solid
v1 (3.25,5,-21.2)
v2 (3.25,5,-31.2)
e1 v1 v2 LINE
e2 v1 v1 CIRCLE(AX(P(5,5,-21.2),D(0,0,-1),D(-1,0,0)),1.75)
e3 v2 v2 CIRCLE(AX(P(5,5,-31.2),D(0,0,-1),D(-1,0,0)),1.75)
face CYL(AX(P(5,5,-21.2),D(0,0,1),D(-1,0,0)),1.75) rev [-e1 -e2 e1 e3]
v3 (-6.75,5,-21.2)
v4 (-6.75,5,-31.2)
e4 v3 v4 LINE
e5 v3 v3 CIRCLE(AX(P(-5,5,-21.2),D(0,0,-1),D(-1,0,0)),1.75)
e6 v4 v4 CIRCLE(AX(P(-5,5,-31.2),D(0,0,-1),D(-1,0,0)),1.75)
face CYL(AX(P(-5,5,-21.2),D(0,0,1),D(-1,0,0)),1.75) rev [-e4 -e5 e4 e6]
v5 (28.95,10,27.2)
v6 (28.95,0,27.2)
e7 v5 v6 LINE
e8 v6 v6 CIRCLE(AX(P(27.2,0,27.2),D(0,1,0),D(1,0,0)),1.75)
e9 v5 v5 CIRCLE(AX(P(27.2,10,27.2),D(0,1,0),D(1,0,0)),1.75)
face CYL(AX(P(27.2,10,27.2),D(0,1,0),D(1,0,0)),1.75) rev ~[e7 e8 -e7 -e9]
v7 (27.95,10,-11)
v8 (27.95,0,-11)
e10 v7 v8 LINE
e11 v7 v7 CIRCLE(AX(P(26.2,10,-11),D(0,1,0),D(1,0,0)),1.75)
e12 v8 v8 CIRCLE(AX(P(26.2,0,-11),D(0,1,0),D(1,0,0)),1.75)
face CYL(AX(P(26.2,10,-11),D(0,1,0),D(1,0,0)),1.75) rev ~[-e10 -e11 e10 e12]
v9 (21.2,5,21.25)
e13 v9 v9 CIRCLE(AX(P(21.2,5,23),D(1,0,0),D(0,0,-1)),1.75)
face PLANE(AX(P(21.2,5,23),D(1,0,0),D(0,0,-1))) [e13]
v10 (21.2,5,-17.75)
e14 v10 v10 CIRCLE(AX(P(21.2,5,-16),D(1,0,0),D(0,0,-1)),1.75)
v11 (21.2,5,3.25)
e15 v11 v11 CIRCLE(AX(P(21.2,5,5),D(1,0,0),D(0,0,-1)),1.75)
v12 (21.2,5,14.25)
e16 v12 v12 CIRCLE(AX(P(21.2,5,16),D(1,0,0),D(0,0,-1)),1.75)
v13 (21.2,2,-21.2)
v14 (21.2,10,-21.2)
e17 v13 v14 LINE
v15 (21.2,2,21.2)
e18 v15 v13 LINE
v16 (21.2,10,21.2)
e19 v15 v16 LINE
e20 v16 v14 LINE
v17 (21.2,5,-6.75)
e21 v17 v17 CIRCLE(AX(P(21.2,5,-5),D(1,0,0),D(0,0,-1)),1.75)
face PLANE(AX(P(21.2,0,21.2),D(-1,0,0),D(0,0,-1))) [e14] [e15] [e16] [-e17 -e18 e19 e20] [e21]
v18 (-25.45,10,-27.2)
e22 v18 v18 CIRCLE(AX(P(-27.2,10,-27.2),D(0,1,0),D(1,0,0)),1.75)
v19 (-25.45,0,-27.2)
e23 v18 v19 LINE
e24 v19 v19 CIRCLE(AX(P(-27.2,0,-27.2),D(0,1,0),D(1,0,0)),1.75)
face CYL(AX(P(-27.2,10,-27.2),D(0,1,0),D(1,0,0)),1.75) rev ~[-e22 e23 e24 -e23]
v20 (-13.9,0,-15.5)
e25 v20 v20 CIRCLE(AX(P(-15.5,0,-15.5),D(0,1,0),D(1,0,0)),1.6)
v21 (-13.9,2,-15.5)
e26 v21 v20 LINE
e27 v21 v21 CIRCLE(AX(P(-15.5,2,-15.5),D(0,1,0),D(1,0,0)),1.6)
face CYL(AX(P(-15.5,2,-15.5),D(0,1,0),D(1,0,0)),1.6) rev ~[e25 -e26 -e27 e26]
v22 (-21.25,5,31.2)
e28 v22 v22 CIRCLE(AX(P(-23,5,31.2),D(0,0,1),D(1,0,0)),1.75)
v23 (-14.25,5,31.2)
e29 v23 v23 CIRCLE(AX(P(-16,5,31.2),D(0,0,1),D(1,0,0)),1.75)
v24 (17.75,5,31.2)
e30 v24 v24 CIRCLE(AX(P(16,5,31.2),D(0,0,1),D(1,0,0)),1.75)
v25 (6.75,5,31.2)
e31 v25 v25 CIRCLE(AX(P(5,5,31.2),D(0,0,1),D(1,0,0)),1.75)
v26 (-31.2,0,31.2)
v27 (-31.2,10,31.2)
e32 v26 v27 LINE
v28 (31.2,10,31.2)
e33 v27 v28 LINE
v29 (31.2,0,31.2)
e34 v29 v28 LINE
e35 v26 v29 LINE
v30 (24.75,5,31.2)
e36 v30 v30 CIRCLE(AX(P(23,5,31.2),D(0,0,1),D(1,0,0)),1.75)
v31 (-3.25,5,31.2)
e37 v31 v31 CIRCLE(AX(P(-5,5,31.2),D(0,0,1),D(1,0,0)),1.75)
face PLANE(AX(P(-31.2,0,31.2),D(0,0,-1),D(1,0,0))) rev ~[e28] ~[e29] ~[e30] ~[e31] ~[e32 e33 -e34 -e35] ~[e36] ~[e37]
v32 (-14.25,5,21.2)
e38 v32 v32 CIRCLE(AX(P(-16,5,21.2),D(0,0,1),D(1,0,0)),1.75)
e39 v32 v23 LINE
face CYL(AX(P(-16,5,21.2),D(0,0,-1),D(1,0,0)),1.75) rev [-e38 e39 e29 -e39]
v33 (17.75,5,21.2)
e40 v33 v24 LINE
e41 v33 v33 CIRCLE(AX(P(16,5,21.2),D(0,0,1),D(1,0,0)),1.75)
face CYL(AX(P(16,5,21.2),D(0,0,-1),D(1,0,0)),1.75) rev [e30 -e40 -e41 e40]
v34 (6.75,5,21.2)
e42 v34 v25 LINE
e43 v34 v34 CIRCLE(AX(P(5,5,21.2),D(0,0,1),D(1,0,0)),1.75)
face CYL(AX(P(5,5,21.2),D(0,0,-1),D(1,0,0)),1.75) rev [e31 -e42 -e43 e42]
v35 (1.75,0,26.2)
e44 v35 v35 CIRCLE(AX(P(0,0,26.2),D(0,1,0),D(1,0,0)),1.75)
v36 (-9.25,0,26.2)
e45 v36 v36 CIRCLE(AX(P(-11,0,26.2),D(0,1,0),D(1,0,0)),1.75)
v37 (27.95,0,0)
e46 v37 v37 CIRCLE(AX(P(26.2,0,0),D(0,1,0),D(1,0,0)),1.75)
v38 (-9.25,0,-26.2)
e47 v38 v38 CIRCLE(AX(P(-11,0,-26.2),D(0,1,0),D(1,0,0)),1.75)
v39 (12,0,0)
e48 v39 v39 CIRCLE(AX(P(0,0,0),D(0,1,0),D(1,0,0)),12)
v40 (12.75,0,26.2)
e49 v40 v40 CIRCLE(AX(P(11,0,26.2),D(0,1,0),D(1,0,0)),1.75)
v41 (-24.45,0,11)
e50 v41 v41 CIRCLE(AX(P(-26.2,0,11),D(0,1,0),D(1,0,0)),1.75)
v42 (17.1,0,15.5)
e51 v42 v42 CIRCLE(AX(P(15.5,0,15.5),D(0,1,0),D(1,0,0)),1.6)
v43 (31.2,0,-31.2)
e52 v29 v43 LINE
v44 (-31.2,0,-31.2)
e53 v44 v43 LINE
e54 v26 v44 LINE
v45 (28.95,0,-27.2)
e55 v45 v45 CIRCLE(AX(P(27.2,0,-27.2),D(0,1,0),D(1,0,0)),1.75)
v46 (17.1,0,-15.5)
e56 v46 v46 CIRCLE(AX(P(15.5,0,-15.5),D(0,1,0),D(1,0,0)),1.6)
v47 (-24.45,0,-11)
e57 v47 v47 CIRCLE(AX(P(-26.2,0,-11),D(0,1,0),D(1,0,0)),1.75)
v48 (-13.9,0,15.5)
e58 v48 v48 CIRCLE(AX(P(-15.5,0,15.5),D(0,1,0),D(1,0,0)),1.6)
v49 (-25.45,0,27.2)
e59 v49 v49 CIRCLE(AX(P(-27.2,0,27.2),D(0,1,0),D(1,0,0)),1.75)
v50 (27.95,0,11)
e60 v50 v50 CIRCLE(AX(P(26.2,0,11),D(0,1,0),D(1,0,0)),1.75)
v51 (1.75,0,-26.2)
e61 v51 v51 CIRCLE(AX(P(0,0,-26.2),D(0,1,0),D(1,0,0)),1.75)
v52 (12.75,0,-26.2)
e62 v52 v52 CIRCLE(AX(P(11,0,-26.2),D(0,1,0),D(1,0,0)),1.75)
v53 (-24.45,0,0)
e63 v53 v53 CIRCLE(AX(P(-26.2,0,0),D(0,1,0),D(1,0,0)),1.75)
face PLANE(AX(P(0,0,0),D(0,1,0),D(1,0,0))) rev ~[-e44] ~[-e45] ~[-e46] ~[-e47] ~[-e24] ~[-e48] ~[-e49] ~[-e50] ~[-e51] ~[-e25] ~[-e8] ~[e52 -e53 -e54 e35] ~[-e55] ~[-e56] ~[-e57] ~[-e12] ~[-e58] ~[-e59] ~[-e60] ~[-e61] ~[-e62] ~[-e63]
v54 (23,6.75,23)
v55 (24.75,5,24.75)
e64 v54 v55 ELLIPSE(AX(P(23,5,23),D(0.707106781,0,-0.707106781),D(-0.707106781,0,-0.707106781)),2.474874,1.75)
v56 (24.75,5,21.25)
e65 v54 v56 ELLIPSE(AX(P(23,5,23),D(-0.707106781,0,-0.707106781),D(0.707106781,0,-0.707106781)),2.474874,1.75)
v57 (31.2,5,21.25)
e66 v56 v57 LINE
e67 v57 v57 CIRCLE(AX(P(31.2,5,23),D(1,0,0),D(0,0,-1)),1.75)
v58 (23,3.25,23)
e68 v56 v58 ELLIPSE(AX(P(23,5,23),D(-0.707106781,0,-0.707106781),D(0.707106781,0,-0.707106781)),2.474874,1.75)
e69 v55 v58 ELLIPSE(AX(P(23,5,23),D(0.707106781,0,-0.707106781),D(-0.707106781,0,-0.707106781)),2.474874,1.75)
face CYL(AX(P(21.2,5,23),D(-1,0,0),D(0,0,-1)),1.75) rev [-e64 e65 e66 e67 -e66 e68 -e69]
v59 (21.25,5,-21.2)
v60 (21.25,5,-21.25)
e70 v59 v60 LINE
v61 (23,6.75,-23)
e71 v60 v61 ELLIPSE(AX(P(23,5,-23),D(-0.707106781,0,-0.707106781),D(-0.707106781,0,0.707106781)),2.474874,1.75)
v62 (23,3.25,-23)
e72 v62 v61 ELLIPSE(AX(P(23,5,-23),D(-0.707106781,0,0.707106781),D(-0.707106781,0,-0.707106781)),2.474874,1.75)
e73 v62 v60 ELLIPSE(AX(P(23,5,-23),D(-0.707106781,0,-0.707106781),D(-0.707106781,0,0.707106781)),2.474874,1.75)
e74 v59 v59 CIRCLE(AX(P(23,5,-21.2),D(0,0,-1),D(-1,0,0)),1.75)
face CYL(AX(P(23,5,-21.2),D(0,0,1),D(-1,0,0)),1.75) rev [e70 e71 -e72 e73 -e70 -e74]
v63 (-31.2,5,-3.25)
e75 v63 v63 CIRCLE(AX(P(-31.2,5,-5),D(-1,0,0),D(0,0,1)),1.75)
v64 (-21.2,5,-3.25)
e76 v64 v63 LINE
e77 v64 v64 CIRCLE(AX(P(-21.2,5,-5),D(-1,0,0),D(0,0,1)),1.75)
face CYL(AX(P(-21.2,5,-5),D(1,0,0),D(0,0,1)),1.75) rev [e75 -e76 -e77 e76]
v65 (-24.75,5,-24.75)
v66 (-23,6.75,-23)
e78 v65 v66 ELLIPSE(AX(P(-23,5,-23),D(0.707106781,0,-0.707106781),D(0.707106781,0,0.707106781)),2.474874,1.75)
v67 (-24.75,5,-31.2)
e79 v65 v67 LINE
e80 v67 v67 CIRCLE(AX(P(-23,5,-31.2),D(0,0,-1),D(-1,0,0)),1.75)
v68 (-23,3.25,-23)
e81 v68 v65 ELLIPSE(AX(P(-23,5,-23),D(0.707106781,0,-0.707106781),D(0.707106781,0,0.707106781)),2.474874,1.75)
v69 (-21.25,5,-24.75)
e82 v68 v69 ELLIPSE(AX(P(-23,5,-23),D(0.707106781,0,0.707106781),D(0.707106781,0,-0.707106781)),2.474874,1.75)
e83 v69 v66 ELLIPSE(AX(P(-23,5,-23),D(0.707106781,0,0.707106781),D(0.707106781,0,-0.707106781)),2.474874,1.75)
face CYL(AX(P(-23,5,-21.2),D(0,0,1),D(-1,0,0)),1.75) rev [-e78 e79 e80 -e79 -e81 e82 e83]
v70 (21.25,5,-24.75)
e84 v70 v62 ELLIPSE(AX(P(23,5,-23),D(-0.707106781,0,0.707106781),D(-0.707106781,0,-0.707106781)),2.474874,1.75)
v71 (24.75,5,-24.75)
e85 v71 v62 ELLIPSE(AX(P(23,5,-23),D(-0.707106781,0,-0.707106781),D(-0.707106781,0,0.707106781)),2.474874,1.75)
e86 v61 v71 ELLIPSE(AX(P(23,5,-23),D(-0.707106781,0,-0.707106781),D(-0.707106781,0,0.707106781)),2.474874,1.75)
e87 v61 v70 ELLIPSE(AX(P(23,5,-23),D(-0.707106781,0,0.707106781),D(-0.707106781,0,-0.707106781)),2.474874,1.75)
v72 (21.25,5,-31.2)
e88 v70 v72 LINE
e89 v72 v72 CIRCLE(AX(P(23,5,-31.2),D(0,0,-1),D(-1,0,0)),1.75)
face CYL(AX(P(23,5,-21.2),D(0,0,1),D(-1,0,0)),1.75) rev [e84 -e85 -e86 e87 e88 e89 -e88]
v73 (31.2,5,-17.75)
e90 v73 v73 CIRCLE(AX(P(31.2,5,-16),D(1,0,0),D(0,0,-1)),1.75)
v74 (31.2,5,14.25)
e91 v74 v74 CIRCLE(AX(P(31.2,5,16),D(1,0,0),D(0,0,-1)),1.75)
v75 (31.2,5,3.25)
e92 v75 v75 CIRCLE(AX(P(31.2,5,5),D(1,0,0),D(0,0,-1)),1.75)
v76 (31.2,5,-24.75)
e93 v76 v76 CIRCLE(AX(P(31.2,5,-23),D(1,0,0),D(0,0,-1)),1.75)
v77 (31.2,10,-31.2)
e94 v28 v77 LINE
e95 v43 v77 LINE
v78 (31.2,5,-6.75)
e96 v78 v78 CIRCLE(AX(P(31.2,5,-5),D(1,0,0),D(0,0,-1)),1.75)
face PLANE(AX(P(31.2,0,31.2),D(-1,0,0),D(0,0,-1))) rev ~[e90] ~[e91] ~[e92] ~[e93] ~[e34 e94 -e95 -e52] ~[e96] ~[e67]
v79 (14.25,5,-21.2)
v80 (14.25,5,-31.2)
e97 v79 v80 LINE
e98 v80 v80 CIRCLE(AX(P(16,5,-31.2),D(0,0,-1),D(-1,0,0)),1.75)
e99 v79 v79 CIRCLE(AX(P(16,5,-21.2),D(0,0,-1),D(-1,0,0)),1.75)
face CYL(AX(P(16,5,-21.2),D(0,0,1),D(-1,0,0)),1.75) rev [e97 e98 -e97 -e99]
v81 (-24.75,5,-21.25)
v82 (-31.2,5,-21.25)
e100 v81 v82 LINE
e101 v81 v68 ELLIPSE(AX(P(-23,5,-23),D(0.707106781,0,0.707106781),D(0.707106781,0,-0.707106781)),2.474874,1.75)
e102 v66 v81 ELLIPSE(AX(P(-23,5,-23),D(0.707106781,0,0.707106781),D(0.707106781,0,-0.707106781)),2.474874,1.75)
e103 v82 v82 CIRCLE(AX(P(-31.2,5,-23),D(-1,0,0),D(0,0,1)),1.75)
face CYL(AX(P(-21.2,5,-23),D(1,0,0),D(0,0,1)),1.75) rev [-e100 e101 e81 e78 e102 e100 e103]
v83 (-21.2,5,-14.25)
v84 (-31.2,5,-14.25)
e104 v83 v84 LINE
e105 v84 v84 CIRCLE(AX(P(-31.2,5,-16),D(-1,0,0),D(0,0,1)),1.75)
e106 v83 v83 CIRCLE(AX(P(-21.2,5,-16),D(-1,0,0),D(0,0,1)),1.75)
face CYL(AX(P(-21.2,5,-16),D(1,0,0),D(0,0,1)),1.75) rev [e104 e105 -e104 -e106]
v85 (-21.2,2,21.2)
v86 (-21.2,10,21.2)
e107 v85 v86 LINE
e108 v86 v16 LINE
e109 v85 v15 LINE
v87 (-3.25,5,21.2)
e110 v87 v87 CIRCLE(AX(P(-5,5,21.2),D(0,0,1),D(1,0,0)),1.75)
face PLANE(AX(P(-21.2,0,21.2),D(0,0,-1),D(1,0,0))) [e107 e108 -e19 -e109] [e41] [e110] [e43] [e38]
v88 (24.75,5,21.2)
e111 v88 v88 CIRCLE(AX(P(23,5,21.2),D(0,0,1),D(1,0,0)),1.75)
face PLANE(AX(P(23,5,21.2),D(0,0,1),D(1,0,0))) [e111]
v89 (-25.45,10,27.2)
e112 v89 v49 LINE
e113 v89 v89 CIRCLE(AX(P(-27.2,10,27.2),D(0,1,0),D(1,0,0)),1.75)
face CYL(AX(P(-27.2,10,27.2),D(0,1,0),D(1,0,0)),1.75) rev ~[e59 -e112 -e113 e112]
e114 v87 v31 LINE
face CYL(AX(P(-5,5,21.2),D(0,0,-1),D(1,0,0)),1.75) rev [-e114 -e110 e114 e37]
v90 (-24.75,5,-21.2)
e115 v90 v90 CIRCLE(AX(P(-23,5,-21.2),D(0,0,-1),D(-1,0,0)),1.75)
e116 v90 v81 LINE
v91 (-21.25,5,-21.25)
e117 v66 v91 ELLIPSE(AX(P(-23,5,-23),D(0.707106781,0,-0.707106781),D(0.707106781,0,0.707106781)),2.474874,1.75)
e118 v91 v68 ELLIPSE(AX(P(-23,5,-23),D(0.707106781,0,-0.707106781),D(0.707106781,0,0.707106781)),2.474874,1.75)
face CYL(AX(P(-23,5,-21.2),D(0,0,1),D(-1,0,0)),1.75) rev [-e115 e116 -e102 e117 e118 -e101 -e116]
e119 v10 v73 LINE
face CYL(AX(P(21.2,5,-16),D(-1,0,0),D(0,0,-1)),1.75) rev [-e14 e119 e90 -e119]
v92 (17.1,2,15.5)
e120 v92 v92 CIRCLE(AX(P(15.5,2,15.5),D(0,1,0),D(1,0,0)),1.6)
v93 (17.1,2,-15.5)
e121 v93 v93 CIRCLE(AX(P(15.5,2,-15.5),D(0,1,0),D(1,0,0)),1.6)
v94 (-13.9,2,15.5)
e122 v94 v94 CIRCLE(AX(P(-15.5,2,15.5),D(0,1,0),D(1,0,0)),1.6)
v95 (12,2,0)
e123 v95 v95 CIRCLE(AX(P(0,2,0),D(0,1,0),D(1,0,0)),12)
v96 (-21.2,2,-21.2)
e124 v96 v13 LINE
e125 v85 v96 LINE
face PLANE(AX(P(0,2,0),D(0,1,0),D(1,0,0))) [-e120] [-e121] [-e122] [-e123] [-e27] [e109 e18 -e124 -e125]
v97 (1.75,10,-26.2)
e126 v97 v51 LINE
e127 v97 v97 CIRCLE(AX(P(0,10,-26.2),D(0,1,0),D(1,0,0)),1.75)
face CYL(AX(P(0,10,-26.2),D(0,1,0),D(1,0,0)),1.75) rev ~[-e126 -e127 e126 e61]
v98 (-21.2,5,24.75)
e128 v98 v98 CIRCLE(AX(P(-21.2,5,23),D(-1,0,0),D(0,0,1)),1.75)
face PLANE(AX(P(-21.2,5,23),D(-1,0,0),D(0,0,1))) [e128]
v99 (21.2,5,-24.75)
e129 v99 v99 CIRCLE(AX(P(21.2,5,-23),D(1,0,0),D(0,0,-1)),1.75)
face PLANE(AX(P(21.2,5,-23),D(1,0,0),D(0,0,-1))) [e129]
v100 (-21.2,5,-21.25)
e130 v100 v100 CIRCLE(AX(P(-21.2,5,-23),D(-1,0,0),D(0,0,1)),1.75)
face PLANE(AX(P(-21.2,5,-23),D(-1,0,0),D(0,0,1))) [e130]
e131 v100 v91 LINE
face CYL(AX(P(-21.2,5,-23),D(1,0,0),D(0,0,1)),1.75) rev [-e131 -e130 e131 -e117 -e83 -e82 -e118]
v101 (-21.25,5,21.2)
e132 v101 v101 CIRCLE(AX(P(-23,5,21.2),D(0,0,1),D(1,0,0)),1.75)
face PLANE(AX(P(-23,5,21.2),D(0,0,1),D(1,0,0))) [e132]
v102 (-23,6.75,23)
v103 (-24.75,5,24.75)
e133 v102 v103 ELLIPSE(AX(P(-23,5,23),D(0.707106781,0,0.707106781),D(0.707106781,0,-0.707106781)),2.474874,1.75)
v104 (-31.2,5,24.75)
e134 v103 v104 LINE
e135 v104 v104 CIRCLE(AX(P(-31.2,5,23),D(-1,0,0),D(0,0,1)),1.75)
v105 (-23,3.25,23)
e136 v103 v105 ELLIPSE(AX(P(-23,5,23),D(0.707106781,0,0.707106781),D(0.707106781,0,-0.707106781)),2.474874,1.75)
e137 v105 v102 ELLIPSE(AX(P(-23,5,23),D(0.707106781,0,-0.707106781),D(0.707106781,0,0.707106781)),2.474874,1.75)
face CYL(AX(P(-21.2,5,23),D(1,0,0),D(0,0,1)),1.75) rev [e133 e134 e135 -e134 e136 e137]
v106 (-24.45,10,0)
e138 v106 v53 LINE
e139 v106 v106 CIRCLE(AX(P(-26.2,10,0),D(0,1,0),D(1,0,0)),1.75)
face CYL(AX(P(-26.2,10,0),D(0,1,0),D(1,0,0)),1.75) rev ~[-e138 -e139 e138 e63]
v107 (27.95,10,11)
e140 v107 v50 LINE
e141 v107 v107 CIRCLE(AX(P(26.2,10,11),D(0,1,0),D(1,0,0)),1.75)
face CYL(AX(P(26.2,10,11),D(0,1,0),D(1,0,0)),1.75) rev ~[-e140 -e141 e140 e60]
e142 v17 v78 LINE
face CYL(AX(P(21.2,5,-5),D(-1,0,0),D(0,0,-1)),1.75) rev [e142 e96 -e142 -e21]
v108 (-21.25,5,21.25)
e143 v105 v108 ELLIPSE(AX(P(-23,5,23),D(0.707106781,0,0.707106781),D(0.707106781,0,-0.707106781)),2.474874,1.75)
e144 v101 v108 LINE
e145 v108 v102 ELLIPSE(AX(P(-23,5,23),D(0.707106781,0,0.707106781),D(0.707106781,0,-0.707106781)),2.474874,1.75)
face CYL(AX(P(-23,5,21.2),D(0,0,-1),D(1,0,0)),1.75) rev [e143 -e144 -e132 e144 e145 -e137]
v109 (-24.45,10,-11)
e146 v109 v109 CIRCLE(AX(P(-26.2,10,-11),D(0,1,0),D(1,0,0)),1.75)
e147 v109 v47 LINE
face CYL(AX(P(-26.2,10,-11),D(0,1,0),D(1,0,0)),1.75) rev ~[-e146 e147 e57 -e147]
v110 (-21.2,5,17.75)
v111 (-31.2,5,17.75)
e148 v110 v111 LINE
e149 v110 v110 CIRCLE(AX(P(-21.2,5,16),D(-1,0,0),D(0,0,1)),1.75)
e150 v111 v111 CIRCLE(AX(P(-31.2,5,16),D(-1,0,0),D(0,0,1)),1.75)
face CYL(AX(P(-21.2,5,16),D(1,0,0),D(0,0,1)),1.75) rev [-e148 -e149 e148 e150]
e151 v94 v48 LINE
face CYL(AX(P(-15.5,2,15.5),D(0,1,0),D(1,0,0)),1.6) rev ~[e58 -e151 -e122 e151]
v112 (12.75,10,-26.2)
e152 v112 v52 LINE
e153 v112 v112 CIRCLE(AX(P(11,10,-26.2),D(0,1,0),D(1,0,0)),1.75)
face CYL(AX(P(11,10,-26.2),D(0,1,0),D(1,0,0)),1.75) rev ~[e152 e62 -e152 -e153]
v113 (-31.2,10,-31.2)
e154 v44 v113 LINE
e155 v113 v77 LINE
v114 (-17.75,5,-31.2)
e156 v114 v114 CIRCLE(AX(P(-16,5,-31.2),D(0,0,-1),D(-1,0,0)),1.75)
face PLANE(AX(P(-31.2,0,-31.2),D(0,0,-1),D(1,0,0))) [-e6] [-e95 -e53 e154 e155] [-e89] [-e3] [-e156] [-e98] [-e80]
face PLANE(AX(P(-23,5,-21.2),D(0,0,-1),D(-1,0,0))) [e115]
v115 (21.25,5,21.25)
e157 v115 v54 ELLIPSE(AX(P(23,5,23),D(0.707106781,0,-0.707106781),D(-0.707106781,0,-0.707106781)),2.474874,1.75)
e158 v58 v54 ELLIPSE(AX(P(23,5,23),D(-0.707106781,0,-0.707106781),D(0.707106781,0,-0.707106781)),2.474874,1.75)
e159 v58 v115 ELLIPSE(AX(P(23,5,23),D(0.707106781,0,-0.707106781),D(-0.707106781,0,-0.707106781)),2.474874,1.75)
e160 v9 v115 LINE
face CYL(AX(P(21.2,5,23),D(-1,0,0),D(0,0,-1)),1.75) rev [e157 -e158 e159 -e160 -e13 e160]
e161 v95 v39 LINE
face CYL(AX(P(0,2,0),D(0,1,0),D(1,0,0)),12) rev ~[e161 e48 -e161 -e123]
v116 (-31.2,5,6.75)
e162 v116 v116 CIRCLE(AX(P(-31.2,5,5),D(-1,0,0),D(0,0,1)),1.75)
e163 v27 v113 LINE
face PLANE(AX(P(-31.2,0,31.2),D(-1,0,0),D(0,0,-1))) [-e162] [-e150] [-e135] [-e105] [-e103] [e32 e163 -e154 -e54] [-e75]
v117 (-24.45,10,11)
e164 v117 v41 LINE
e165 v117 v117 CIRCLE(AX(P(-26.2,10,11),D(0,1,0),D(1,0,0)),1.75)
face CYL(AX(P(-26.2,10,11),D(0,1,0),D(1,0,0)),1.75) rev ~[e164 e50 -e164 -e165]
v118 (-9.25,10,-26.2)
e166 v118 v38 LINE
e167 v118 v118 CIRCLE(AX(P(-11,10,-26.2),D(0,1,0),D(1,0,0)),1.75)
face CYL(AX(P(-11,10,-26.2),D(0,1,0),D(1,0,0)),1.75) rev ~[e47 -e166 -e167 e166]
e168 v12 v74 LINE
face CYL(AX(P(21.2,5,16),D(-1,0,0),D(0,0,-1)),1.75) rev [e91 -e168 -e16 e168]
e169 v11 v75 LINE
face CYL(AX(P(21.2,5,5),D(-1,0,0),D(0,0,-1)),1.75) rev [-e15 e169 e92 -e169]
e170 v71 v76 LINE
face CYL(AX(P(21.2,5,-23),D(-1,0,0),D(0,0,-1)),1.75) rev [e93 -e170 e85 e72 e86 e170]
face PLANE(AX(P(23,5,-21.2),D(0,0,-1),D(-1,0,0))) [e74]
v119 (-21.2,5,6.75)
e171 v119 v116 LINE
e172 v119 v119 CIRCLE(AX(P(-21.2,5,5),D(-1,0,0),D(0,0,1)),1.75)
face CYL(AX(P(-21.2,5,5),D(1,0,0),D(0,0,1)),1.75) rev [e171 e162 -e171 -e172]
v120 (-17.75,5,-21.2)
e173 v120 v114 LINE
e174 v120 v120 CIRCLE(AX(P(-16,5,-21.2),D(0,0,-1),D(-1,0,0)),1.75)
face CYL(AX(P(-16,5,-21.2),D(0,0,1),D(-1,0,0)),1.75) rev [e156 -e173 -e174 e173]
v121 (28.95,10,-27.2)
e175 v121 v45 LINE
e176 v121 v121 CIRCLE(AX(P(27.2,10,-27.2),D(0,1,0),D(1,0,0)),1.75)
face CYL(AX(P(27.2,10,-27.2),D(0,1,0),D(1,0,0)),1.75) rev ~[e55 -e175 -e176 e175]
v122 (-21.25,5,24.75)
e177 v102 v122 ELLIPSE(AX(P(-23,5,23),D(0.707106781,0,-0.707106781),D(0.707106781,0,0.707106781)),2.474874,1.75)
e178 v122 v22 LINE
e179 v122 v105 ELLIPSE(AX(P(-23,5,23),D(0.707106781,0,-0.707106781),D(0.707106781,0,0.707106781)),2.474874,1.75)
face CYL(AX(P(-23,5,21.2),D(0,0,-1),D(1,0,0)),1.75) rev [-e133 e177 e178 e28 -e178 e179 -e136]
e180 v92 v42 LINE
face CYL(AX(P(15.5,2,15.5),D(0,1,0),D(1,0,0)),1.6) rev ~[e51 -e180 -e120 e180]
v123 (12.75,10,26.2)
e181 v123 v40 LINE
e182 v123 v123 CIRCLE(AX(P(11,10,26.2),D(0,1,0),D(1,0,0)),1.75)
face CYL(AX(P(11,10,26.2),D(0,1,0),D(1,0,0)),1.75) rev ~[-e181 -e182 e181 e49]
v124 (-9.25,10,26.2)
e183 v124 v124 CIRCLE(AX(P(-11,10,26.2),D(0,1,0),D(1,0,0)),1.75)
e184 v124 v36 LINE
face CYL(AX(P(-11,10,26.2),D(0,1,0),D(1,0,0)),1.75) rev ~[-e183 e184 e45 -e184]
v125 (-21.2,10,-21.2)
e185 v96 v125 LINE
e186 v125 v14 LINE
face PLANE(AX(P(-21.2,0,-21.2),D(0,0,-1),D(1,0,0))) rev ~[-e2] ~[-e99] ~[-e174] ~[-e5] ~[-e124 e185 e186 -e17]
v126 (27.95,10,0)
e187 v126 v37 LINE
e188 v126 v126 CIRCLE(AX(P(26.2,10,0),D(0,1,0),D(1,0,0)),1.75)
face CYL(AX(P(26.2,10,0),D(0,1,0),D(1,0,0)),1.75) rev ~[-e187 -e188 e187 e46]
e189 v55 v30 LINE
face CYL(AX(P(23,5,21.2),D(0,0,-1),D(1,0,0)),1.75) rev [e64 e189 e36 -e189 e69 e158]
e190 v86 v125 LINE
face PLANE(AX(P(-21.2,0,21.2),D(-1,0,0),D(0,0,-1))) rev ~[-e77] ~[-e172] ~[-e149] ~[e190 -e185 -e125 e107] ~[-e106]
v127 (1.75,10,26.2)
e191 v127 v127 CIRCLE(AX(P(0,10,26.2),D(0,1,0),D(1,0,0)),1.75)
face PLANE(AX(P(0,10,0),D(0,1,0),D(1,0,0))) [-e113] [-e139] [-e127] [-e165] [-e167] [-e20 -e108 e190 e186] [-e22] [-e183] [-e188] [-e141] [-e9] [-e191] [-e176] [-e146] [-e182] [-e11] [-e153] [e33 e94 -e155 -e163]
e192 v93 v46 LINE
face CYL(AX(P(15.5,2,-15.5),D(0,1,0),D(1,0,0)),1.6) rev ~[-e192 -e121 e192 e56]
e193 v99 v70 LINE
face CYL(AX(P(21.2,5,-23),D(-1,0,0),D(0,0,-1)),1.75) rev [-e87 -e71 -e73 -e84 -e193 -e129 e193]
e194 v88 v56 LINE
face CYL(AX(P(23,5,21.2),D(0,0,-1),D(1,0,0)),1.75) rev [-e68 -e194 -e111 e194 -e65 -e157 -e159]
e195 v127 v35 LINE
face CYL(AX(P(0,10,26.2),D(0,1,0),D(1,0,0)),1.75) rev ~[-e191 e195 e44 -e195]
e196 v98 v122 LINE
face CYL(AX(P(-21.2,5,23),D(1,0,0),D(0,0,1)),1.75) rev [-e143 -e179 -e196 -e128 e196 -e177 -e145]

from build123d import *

# Parameters (mm, degrees)
SKETCH_1_W               = 42.4
SKETCH_1_H               = 42.4
EXTRUDE_1_DEPTH          = 2
SKETCH_2_W               = 62.4
SKETCH_2_H               = 62.4
SKETCH_2_W_2             = 42.4
SKETCH_2_H_2             = 42.4
EXTRUDE_2_DEPTH          = 10
CUT_EXTRUDE_1_REACH      = 4
SKETCH_5_R               = 1.6
SKETCH_5_R_2             = 12
CUT_EXTRUDE_START        = -10
SKETCH_7_R               = 1.75
CUT_EXTRUDE_3_DEPTH      = 10
PATTERN_CIRCULAR_2_COUNT = 4
CUT_EXTRUDE_2_REACH      = 12
SKETCH_6_R               = 1.75


with BuildPart() as part:
    # 草图1 → 凸台-拉伸1 (new body)
    with BuildSketch(Plane(origin=(0, 0, 0), x_dir=(1, 0, 0), z_dir=(0, 1, 0))):
        Rectangle(SKETCH_1_W, SKETCH_1_H)
    extrude(amount=EXTRUDE_1_DEPTH)

    # 草图2 → 凸台-拉伸2 (add)
    with BuildSketch(Plane(origin=(0, 0, 0), x_dir=(1, 0, 0), z_dir=(0, 1, 0))):
        Rectangle(SKETCH_2_W, SKETCH_2_H)
        Rectangle(SKETCH_2_W_2, SKETCH_2_H_2, mode=Mode.SUBTRACT)
    extrude(amount=EXTRUDE_2_DEPTH)

    # 草图5 → 切除-拉伸1 (cut, up to next)
    with BuildSketch(Plane(origin=(0, 2, 0), x_dir=(1, 0, 0), z_dir=(0, 1, 0)), mode=Mode.PRIVATE) as cut_extrude_1_sk1:
        with Locations((-15.5, 15.5)):
            Circle(SKETCH_5_R)
    cut_extrude_1_tool1 = extrude(cut_extrude_1_sk1.sketch, amount=-CUT_EXTRUDE_1_REACH, mode=Mode.PRIVATE) & part.part
    add(cut_extrude_1_tool1.solids().sort_by_distance((-15.5, 2, -15.5))[0], mode=Mode.SUBTRACT)
    # 草图5 → 切除-拉伸1 (cut, up to next)
    with BuildSketch(Plane(origin=(0, 2, 0), x_dir=(1, 0, 0), z_dir=(0, 1, 0)), mode=Mode.PRIVATE) as cut_extrude_1_sk2:
        with Locations((15.5, 15.5)):
            Circle(SKETCH_5_R)
    cut_extrude_1_tool2 = extrude(cut_extrude_1_sk2.sketch, amount=-CUT_EXTRUDE_1_REACH, mode=Mode.PRIVATE) & part.part
    add(cut_extrude_1_tool2.solids().sort_by_distance((15.5, 2, -15.5))[0], mode=Mode.SUBTRACT)
    # 草图5 → 切除-拉伸1 (cut, up to next)
    with BuildSketch(Plane(origin=(0, 2, 0), x_dir=(1, 0, 0), z_dir=(0, 1, 0)), mode=Mode.PRIVATE) as cut_extrude_1_sk3:
        with Locations((15.5, -15.5)):
            Circle(SKETCH_5_R)
    cut_extrude_1_tool3 = extrude(cut_extrude_1_sk3.sketch, amount=-CUT_EXTRUDE_1_REACH, mode=Mode.PRIVATE) & part.part
    add(cut_extrude_1_tool3.solids().sort_by_distance((15.5, 2, 15.5))[0], mode=Mode.SUBTRACT)
    # 草图5 → 切除-拉伸1 (cut, up to next)
    with BuildSketch(Plane(origin=(0, 2, 0), x_dir=(1, 0, 0), z_dir=(0, 1, 0)), mode=Mode.PRIVATE) as cut_extrude_1_sk4:
        with Locations((-15.5, -15.5)):
            Circle(SKETCH_5_R)
    cut_extrude_1_tool4 = extrude(cut_extrude_1_sk4.sketch, amount=-CUT_EXTRUDE_1_REACH, mode=Mode.PRIVATE) & part.part
    add(cut_extrude_1_tool4.solids().sort_by_distance((-15.5, 2, 15.5))[0], mode=Mode.SUBTRACT)
    # 草图5 → 切除-拉伸1 (cut, up to next)
    with BuildSketch(Plane(origin=(0, 2, 0), x_dir=(1, 0, 0), z_dir=(0, 1, 0)), mode=Mode.PRIVATE) as cut_extrude_1_sk5:
        Circle(SKETCH_5_R_2)
    cut_extrude_1_tool5 = extrude(cut_extrude_1_sk5.sketch, amount=-CUT_EXTRUDE_1_REACH, mode=Mode.PRIVATE) & part.part
    add(cut_extrude_1_tool5.solids().sort_by_distance((0, 2, 0))[0], mode=Mode.SUBTRACT)

    # 草图7 → 切除-拉伸3 (cut)
    with BuildSketch(Plane.ZY.offset(31.2).offset(CUT_EXTRUDE_START)):
        with Locations((-16, 5)):
            Circle(SKETCH_7_R)
        with Locations((16, 5)):
            Circle(SKETCH_7_R)
        with Locations((-23, 5)):
            Circle(SKETCH_7_R)
        with Locations((23, 5)):
            Circle(SKETCH_7_R)
        with Locations((-5, 5)):
            Circle(SKETCH_7_R)
        with Locations((5, 5)):
            Circle(SKETCH_7_R)
    cut_extrude_3 = extrude(amount=CUT_EXTRUDE_3_DEPTH, mode=Mode.SUBTRACT)

    # 阵列(圆周)2: 切除-拉伸3 ×4 about axis
    pattern_circular_2_axis = Axis((0, 0, 0), (0, 1, 0))
    for i in range(1, PATTERN_CIRCULAR_2_COUNT):
        add(cut_extrude_3.rotate(pattern_circular_2_axis, i * 360 / PATTERN_CIRCULAR_2_COUNT), mode=Mode.SUBTRACT)

    # 草图6 → 切除-拉伸2 (cut, up to next)
    with BuildSketch(Plane(origin=(0, 10, 0), x_dir=(1, 0, 0), z_dir=(0, 1, 0)), mode=Mode.PRIVATE) as cut_extrude_2_sk1:
        with Locations((-27.2, 27.2)):
            Circle(SKETCH_6_R)
    cut_extrude_2_tool1 = extrude(cut_extrude_2_sk1.sketch, amount=-CUT_EXTRUDE_2_REACH, mode=Mode.PRIVATE) & part.part
    add(cut_extrude_2_tool1.solids().sort_by_distance((-27.2, 10, -27.2))[0], mode=Mode.SUBTRACT)
    # 草图6 → 切除-拉伸2 (cut, up to next)
    with BuildSketch(Plane(origin=(0, 10, 0), x_dir=(1, 0, 0), z_dir=(0, 1, 0)), mode=Mode.PRIVATE) as cut_extrude_2_sk2:
        with Locations((-26.2, 11)):
            Circle(SKETCH_6_R)
    cut_extrude_2_tool2 = extrude(cut_extrude_2_sk2.sketch, amount=-CUT_EXTRUDE_2_REACH, mode=Mode.PRIVATE) & part.part
    add(cut_extrude_2_tool2.solids().sort_by_distance((-26.2, 10, -11))[0], mode=Mode.SUBTRACT)
    # 草图6 → 切除-拉伸2 (cut, up to next)
    with BuildSketch(Plane(origin=(0, 10, 0), x_dir=(1, 0, 0), z_dir=(0, 1, 0)), mode=Mode.PRIVATE) as cut_extrude_2_sk3:
        with Locations((-26.2, 0)):
            Circle(SKETCH_6_R)
    cut_extrude_2_tool3 = extrude(cut_extrude_2_sk3.sketch, amount=-CUT_EXTRUDE_2_REACH, mode=Mode.PRIVATE) & part.part
    add(cut_extrude_2_tool3.solids().sort_by_distance((-26.2, 10, 0))[0], mode=Mode.SUBTRACT)
    # 草图6 → 切除-拉伸2 (cut, up to next)
    with BuildSketch(Plane(origin=(0, 10, 0), x_dir=(1, 0, 0), z_dir=(0, 1, 0)), mode=Mode.PRIVATE) as cut_extrude_2_sk4:
        with Locations((-11, 26.2)):
            Circle(SKETCH_6_R)
    cut_extrude_2_tool4 = extrude(cut_extrude_2_sk4.sketch, amount=-CUT_EXTRUDE_2_REACH, mode=Mode.PRIVATE) & part.part
    add(cut_extrude_2_tool4.solids().sort_by_distance((-11, 10, -26.2))[0], mode=Mode.SUBTRACT)
    # 草图6 → 切除-拉伸2 (cut, up to next)
    with BuildSketch(Plane(origin=(0, 10, 0), x_dir=(1, 0, 0), z_dir=(0, 1, 0)), mode=Mode.PRIVATE) as cut_extrude_2_sk5:
        with Locations((0, 26.2)):
            Circle(SKETCH_6_R)
    cut_extrude_2_tool5 = extrude(cut_extrude_2_sk5.sketch, amount=-CUT_EXTRUDE_2_REACH, mode=Mode.PRIVATE) & part.part
    add(cut_extrude_2_tool5.solids().sort_by_distance((0, 10, -26.2))[0], mode=Mode.SUBTRACT)
    # 草图6 → 切除-拉伸2 (cut, up to next)
    with BuildSketch(Plane(origin=(0, 10, 0), x_dir=(1, 0, 0), z_dir=(0, 1, 0)), mode=Mode.PRIVATE) as cut_extrude_2_sk6:
        with Locations((11, 26.2)):
            Circle(SKETCH_6_R)
    cut_extrude_2_tool6 = extrude(cut_extrude_2_sk6.sketch, amount=-CUT_EXTRUDE_2_REACH, mode=Mode.PRIVATE) & part.part
    add(cut_extrude_2_tool6.solids().sort_by_distance((11, 10, -26.2))[0], mode=Mode.SUBTRACT)
    # 草图6 → 切除-拉伸2 (cut, up to next)
    with BuildSketch(Plane(origin=(0, 10, 0), x_dir=(1, 0, 0), z_dir=(0, 1, 0)), mode=Mode.PRIVATE) as cut_extrude_2_sk7:
        with Locations((27.2, 27.2)):
            Circle(SKETCH_6_R)
    cut_extrude_2_tool7 = extrude(cut_extrude_2_sk7.sketch, amount=-CUT_EXTRUDE_2_REACH, mode=Mode.PRIVATE) & part.part
    add(cut_extrude_2_tool7.solids().sort_by_distance((27.2, 10, -27.2))[0], mode=Mode.SUBTRACT)
    # 草图6 → 切除-拉伸2 (cut, up to next)
    with BuildSketch(Plane(origin=(0, 10, 0), x_dir=(1, 0, 0), z_dir=(0, 1, 0)), mode=Mode.PRIVATE) as cut_extrude_2_sk8:
        with Locations((26.2, 11)):
            Circle(SKETCH_6_R)
    cut_extrude_2_tool8 = extrude(cut_extrude_2_sk8.sketch, amount=-CUT_EXTRUDE_2_REACH, mode=Mode.PRIVATE) & part.part
    add(cut_extrude_2_tool8.solids().sort_by_distance((26.2, 10, -11))[0], mode=Mode.SUBTRACT)
    # 草图6 → 切除-拉伸2 (cut, up to next)
    with BuildSketch(Plane(origin=(0, 10, 0), x_dir=(1, 0, 0), z_dir=(0, 1, 0)), mode=Mode.PRIVATE) as cut_extrude_2_sk9:
        with Locations((26.2, 0)):
            Circle(SKETCH_6_R)
    cut_extrude_2_tool9 = extrude(cut_extrude_2_sk9.sketch, amount=-CUT_EXTRUDE_2_REACH, mode=Mode.PRIVATE) & part.part
    add(cut_extrude_2_tool9.solids().sort_by_distance((26.2, 10, 0))[0], mode=Mode.SUBTRACT)
    # 草图6 → 切除-拉伸2 (cut, up to next)
    with BuildSketch(Plane(origin=(0, 10, 0), x_dir=(1, 0, 0), z_dir=(0, 1, 0)), mode=Mode.PRIVATE) as cut_extrude_2_sk10:
        with Locations((26.2, -11)):
            Circle(SKETCH_6_R)
    cut_extrude_2_tool10 = extrude(cut_extrude_2_sk10.sketch, amount=-CUT_EXTRUDE_2_REACH, mode=Mode.PRIVATE) & part.part
    add(cut_extrude_2_tool10.solids().sort_by_distance((26.2, 10, 11))[0], mode=Mode.SUBTRACT)
    # 草图6 → 切除-拉伸2 (cut, up to next)
    with BuildSketch(Plane(origin=(0, 10, 0), x_dir=(1, 0, 0), z_dir=(0, 1, 0)), mode=Mode.PRIVATE) as cut_extrude_2_sk11:
        with Locations((27.2, -27.2)):
            Circle(SKETCH_6_R)
    cut_extrude_2_tool11 = extrude(cut_extrude_2_sk11.sketch, amount=-CUT_EXTRUDE_2_REACH, mode=Mode.PRIVATE) & part.part
    add(cut_extrude_2_tool11.solids().sort_by_distance((27.2, 10, 27.2))[0], mode=Mode.SUBTRACT)
    # 草图6 → 切除-拉伸2 (cut, up to next)
    with BuildSketch(Plane(origin=(0, 10, 0), x_dir=(1, 0, 0), z_dir=(0, 1, 0)), mode=Mode.PRIVATE) as cut_extrude_2_sk12:
        with Locations((11, -26.2)):
            Circle(SKETCH_6_R)
    cut_extrude_2_tool12 = extrude(cut_extrude_2_sk12.sketch, amount=-CUT_EXTRUDE_2_REACH, mode=Mode.PRIVATE) & part.part
    add(cut_extrude_2_tool12.solids().sort_by_distance((11, 10, 26.2))[0], mode=Mode.SUBTRACT)
    # 草图6 → 切除-拉伸2 (cut, up to next)
    with BuildSketch(Plane(origin=(0, 10, 0), x_dir=(1, 0, 0), z_dir=(0, 1, 0)), mode=Mode.PRIVATE) as cut_extrude_2_sk13:
        with Locations((0, -26.2)):
            Circle(SKETCH_6_R)
    cut_extrude_2_tool13 = extrude(cut_extrude_2_sk13.sketch, amount=-CUT_EXTRUDE_2_REACH, mode=Mode.PRIVATE) & part.part
    add(cut_extrude_2_tool13.solids().sort_by_distance((0, 10, 26.2))[0], mode=Mode.SUBTRACT)
    # 草图6 → 切除-拉伸2 (cut, up to next)
    with BuildSketch(Plane(origin=(0, 10, 0), x_dir=(1, 0, 0), z_dir=(0, 1, 0)), mode=Mode.PRIVATE) as cut_extrude_2_sk14:
        with Locations((-11, -26.2)):
            Circle(SKETCH_6_R)
    cut_extrude_2_tool14 = extrude(cut_extrude_2_sk14.sketch, amount=-CUT_EXTRUDE_2_REACH, mode=Mode.PRIVATE) & part.part
    add(cut_extrude_2_tool14.solids().sort_by_distance((-11, 10, 26.2))[0], mode=Mode.SUBTRACT)
    # 草图6 → 切除-拉伸2 (cut, up to next)
    with BuildSketch(Plane(origin=(0, 10, 0), x_dir=(1, 0, 0), z_dir=(0, 1, 0)), mode=Mode.PRIVATE) as cut_extrude_2_sk15:
        with Locations((-27.2, -27.2)):
            Circle(SKETCH_6_R)
    cut_extrude_2_tool15 = extrude(cut_extrude_2_sk15.sketch, amount=-CUT_EXTRUDE_2_REACH, mode=Mode.PRIVATE) & part.part
    add(cut_extrude_2_tool15.solids().sort_by_distance((-27.2, 10, 27.2))[0], mode=Mode.SUBTRACT)
    # 草图6 → 切除-拉伸2 (cut, up to next)
    with BuildSketch(Plane(origin=(0, 10, 0), x_dir=(1, 0, 0), z_dir=(0, 1, 0)), mode=Mode.PRIVATE) as cut_extrude_2_sk16:
        with Locations((-26.2, -11)):
            Circle(SKETCH_6_R)
    cut_extrude_2_tool16 = extrude(cut_extrude_2_sk16.sketch, amount=-CUT_EXTRUDE_2_REACH, mode=Mode.PRIVATE) & part.part
    add(cut_extrude_2_tool16.solids().sort_by_distance((-26.2, 10, 11))[0], mode=Mode.SUBTRACT)


solid = part.part
